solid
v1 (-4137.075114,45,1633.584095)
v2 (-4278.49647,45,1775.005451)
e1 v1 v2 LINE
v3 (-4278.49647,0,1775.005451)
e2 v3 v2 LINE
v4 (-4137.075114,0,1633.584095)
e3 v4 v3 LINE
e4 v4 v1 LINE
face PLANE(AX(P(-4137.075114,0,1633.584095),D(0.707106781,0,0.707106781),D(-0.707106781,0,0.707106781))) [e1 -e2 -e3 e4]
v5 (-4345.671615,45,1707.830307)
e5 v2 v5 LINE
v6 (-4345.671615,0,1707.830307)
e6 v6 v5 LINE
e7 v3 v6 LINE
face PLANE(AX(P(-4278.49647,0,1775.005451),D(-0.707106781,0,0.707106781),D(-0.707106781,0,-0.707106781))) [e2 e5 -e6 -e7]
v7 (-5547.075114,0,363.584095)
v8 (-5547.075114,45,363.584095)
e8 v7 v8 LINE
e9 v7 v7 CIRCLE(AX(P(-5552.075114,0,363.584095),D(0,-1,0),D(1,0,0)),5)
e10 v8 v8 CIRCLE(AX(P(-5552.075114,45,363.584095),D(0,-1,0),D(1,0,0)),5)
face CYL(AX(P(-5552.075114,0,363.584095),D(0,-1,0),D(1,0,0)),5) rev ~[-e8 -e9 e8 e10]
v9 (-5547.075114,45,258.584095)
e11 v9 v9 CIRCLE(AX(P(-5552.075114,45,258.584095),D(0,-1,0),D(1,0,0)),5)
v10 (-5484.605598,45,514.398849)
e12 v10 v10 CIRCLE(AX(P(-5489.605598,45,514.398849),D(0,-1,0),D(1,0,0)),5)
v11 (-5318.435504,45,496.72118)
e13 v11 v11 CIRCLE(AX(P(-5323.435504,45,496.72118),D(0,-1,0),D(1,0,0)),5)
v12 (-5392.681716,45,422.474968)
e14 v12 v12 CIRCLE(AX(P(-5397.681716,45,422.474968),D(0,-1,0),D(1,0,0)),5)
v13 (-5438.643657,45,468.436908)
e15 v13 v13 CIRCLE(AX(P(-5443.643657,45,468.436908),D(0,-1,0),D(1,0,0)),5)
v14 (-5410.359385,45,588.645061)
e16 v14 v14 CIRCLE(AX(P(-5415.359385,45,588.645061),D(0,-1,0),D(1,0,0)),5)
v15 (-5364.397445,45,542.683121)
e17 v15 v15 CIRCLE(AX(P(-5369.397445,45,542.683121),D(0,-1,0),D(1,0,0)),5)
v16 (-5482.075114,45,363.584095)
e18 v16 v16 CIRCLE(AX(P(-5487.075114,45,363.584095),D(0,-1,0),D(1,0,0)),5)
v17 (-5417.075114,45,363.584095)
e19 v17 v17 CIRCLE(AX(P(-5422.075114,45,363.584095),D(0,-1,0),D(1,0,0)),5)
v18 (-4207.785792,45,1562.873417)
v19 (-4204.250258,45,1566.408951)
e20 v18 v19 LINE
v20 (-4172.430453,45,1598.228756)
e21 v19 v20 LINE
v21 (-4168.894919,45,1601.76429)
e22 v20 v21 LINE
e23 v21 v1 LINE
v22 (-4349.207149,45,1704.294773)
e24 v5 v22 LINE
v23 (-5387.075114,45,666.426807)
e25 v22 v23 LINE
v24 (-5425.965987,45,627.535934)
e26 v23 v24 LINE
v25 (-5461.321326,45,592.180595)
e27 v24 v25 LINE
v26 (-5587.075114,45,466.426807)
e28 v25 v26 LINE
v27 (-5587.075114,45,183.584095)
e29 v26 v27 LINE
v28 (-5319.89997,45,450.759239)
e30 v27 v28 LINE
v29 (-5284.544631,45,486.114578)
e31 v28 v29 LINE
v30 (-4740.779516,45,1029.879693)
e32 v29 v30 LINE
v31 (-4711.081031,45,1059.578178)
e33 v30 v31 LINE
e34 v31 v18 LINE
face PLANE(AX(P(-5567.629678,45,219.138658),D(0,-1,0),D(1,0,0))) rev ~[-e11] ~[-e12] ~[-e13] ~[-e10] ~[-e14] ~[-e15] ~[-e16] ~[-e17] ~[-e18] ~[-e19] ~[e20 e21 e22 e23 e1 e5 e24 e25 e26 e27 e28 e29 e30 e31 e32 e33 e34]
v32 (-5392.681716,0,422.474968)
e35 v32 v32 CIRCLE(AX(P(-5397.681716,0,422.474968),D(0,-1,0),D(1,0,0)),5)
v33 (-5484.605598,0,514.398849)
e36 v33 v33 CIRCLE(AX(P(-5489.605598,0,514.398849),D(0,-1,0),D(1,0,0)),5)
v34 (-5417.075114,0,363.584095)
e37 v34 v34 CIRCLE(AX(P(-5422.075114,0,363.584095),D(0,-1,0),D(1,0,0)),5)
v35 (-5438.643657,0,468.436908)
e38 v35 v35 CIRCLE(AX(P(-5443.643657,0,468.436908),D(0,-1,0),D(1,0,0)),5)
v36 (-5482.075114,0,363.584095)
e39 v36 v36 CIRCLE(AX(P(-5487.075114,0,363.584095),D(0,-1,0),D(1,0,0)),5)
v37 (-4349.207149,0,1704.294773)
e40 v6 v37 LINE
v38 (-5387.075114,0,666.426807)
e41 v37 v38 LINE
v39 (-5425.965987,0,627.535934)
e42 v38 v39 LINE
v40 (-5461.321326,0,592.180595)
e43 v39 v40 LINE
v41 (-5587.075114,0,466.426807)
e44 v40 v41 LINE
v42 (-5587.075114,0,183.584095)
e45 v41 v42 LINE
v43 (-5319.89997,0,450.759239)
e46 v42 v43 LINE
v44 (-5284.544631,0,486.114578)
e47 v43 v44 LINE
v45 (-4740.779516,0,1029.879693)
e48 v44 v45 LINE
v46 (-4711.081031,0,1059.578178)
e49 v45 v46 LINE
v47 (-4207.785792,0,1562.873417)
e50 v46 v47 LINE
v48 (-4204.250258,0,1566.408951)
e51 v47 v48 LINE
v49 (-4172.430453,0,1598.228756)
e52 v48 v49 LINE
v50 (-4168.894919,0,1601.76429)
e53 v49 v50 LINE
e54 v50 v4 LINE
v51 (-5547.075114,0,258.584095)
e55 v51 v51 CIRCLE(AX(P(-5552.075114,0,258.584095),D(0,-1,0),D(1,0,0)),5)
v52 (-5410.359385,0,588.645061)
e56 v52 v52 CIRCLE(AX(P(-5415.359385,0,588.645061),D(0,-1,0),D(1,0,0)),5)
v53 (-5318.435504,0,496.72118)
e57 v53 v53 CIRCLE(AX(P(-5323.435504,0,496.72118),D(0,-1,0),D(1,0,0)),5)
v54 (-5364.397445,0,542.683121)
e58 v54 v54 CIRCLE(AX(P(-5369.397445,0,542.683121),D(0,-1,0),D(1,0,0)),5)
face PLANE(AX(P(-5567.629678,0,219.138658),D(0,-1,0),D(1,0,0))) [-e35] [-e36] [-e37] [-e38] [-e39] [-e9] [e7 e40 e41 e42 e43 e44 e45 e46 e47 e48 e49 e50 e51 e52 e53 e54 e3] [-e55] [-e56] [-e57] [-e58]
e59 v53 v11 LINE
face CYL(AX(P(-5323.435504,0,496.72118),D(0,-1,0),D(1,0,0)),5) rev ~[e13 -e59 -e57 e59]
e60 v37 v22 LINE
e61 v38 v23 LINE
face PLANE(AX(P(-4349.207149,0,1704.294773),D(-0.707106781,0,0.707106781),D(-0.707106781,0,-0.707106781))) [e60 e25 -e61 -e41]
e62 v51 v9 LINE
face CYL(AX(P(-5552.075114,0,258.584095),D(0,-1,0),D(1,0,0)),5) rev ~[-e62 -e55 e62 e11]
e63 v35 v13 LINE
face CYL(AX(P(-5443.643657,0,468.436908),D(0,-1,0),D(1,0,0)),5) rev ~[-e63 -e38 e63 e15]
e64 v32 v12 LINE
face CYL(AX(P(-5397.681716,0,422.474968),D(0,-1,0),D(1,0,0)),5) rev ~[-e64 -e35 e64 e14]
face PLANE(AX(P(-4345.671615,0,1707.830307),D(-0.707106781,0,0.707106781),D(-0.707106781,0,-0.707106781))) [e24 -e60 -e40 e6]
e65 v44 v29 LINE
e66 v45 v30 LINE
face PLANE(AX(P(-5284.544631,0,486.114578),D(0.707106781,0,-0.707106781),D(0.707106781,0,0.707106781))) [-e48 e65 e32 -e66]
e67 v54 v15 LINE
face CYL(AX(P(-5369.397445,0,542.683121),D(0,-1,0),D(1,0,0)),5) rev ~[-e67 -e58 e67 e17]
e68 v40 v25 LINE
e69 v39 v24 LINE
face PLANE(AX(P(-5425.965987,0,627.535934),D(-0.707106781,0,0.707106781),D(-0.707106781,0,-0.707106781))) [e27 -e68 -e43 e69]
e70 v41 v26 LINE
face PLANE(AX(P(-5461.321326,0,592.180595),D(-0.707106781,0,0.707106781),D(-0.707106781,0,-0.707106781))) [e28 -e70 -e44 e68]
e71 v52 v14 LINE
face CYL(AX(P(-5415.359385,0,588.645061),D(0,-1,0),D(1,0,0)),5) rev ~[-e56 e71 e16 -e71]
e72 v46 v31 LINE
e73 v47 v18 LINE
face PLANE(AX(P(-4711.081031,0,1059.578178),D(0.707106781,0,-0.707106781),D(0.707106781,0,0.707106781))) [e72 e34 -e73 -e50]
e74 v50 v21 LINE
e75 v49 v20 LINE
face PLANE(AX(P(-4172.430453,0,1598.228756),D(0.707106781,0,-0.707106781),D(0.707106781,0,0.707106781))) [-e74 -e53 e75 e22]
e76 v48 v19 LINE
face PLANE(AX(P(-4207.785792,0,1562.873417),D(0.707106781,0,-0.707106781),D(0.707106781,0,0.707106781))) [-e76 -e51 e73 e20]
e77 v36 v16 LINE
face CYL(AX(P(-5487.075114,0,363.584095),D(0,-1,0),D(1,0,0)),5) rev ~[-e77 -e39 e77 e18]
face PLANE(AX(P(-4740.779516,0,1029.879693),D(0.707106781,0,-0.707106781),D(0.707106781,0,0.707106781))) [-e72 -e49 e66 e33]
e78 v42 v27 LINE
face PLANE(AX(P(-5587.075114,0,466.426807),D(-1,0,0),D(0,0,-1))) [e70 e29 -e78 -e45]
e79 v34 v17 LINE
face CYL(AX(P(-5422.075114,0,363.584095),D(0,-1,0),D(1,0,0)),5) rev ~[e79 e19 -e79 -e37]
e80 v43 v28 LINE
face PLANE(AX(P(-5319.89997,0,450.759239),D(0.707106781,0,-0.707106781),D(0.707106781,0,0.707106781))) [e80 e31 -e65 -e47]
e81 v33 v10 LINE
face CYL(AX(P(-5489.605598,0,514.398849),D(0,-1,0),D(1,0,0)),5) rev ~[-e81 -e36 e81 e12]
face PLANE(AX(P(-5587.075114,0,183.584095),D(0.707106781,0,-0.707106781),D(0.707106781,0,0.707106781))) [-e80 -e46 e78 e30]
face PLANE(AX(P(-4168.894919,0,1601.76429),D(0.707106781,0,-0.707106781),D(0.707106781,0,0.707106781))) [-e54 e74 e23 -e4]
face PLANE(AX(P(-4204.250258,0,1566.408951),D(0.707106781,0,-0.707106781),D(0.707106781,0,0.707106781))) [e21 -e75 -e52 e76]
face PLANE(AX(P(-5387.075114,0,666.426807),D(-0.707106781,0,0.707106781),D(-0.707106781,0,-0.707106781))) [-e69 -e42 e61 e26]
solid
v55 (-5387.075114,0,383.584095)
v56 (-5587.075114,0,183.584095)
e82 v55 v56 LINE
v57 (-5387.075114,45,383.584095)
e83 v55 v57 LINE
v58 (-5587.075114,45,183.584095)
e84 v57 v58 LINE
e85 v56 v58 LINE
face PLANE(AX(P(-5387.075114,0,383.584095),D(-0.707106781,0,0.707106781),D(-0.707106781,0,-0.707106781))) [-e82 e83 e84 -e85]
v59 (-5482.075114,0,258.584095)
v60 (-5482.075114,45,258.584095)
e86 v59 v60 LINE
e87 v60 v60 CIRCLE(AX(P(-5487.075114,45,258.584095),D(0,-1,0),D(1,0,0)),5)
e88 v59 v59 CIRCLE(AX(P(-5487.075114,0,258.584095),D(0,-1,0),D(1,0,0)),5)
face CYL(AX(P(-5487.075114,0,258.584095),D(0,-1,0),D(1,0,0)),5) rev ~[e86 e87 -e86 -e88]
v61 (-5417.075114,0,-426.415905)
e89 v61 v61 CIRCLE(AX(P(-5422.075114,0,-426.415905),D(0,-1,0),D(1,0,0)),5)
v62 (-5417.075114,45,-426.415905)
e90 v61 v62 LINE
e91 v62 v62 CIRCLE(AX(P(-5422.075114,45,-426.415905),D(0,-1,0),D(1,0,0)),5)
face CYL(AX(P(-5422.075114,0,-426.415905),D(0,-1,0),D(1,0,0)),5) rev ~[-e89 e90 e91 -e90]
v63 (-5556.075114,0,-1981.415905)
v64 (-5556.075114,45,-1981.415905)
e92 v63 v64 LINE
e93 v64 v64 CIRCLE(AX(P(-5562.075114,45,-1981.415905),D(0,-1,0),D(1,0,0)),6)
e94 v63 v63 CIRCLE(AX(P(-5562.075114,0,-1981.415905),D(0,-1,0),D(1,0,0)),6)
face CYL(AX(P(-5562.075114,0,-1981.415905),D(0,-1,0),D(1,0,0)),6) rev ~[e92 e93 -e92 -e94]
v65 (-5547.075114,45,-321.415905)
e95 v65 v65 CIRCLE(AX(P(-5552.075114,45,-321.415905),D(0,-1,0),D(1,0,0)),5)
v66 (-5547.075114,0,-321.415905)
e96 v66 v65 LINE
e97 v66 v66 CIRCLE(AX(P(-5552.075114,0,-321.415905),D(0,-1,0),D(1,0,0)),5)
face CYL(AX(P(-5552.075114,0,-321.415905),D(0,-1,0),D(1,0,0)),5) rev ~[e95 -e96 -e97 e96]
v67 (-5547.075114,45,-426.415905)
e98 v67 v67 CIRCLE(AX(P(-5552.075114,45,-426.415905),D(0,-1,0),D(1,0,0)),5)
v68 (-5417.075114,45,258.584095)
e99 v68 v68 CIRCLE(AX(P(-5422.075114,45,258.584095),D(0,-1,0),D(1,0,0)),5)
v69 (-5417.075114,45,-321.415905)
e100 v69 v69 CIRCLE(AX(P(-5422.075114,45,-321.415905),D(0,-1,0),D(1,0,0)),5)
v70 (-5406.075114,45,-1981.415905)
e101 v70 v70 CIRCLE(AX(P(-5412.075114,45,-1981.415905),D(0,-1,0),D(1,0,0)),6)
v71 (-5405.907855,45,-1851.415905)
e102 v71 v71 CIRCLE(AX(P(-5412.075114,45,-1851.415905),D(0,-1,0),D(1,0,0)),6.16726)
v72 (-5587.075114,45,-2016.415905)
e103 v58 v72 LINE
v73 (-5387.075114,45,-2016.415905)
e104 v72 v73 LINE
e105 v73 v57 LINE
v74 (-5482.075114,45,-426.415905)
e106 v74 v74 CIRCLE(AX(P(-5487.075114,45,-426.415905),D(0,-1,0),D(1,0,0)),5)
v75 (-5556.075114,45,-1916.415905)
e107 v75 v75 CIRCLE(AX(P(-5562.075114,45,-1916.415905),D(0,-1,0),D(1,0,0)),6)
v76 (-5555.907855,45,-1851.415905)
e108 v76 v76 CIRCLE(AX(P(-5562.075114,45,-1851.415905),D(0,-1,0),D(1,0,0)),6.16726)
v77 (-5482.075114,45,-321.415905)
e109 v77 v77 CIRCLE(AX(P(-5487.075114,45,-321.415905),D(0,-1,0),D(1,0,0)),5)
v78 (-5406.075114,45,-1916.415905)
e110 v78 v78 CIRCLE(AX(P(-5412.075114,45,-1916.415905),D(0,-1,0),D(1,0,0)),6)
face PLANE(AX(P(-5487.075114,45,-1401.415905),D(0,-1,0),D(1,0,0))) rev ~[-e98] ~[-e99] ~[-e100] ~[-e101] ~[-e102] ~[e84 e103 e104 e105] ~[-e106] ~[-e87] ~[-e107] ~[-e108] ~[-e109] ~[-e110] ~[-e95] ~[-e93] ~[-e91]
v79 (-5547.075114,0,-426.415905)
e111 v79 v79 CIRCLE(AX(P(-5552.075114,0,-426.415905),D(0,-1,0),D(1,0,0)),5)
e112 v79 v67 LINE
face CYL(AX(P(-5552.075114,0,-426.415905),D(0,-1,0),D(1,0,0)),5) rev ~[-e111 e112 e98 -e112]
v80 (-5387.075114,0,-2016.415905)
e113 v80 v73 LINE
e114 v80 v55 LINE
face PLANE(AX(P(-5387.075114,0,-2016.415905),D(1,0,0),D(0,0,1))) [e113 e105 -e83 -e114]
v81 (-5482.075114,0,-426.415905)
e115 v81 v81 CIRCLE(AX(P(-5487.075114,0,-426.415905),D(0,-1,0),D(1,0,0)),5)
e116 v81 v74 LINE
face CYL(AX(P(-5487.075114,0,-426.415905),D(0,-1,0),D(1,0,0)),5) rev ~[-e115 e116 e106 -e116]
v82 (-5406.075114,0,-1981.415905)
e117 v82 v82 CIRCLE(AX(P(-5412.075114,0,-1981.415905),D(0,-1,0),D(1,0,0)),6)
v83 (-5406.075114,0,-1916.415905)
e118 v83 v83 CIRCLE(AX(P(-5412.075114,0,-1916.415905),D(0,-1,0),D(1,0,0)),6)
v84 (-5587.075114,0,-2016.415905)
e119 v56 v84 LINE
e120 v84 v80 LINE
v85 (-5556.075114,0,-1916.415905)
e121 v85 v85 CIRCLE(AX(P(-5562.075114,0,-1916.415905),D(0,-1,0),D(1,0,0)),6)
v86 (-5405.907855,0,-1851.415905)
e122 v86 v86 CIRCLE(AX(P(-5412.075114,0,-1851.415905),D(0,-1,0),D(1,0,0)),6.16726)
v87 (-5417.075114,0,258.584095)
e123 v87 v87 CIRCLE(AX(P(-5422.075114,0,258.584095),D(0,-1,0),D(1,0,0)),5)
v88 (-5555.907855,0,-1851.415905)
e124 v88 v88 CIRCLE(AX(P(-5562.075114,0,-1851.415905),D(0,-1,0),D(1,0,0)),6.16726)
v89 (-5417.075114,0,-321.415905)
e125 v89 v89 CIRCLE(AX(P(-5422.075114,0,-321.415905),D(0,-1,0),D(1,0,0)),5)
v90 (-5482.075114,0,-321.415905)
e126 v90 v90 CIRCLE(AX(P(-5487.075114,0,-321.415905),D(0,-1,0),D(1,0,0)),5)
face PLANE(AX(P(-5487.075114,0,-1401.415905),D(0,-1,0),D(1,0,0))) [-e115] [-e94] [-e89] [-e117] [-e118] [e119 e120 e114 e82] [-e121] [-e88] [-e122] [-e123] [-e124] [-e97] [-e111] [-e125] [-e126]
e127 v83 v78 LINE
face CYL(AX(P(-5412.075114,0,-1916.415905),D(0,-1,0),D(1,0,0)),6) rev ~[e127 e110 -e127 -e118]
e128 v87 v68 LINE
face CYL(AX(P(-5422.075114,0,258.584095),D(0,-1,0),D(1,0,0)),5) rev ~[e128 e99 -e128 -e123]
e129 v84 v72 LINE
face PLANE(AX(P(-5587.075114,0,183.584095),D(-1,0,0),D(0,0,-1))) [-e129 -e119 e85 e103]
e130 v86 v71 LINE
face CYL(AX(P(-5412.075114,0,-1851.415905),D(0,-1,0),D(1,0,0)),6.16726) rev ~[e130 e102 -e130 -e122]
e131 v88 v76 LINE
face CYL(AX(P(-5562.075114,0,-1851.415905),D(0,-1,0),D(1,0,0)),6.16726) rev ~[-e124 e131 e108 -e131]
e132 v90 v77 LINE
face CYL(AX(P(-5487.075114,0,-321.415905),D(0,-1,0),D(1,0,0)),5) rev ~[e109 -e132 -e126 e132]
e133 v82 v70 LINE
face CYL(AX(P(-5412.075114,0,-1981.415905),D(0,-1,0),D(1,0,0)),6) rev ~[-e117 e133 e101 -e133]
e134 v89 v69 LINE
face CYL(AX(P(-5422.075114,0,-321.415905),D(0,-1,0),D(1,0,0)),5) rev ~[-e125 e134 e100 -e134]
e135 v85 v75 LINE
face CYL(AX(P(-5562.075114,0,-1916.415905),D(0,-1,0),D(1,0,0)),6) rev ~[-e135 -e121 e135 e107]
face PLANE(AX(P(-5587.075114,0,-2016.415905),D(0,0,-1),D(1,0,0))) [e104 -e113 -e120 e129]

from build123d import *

# Parameters (mm, degrees)
F0_W     = 200
F0_H     = 540
F0_H_2   = 45
F0_H_3   = 5
F0_W_2   = 45
F0_H_4   = 200
F0_W_3   = 42.8196878433
F0_R     = 6
F0_R_2   = 6.1672595584
F0_W_4   = 8
F0_W_5   = 42
F0_W_6   = 5
F0_H_5   = 42
F0_H_6   = 8
F0_R_3   = 5
F1_DEPTH = 45
F2_DEPTH = 45


with BuildPart() as f1:
    # F0 (on Front) → F1 (new body)
    with BuildSketch(Plane.XZ):
        with Locations((-5487.0751142502, -1401.4159052541)):
            Rectangle(F0_W, F0_H)
        with Locations((-5487.0751142502, -1693.9159052541)):
            Rectangle(F0_W, F0_H_2)
        with Locations((-5487.0751142502, -1718.9159052541)):
            Rectangle(F0_W, F0_H_3)
        with Locations((-5487.0751142502, -1743.9159052541)):
            Rectangle(F0_W, F0_H_2)
        with Locations((-5487.0751142502, -1768.9159052541)):
            Rectangle(F0_W, F0_H_3)
        Polygon((-5392.0751142502, -1816.4159052541), (-5387.0751142502, -1816.4159052541), (-5387.0751142502, -1771.4159052541), (-5587.0751142502, -1771.4159052541), (-5587.0751142502, -1816.4159052541), (-5582.8948020935, -1816.4159052541), (-5540.0751142502, -1816.4159052541), (-5532.0751142502, -1816.4159052541), (-5487.0751142502, -1816.4159052541), (-5442.0751142502, -1816.4159052541), (-5434.0751142502, -1816.4159052541), align=None)
        with Locations((-5509.5751142502, -1916.4159052541)):
            Rectangle(F0_W_2, F0_H_4)
        with Locations((-5561.4849581718, -1916.4159052541)):
            Rectangle(F0_W_3, F0_H_4)
        with Locations((-5562.0751142502, -1981.4159052541)):
            Circle(F0_R, mode=Mode.SUBTRACT)
        with Locations((-5562.0751142502, -1916.4159052541)):
            Circle(F0_R, mode=Mode.SUBTRACT)
        with Locations((-5562.0751142502, -1851.4159052541)):
            Circle(F0_R_2, mode=Mode.SUBTRACT)
        with Locations((-5536.0751142502, -1916.4159052541)):
            Rectangle(F0_W_4, F0_H_4)
        Polygon((-5582.8948020935, -1816.4159052541), (-5587.0751142502, -1816.4159052541), (-5587.0751142502, -1971.4159052541), (-5587.0751142502, -2016.4159052541), (-5582.8948020935, -2016.4159052541), align=None)
        with Locations((-5464.5751142502, -1916.4159052541)):
            Rectangle(F0_W_2, F0_H_4)
        with Locations((-5438.0751142502, -1916.4159052541)):
            Rectangle(F0_W_4, F0_H_4)
        with Locations((-5413.0751142502, -1916.4159052541)):
            Rectangle(F0_W_5, F0_H_4)
        with Locations((-5412.0751142502, -1981.4159052541)):
            Circle(F0_R, mode=Mode.SUBTRACT)
        with Locations((-5412.0751142502, -1916.4159052541)):
            Circle(F0_R, mode=Mode.SUBTRACT)
        with Locations((-5412.0751142502, -1851.4159052541)):
            Circle(F0_R_2, mode=Mode.SUBTRACT)
        with Locations((-5389.5751142502, -1916.4159052541)):
            Rectangle(F0_W_6, F0_H_4)
        with Locations((-5487.0751142502, -1110.4159052541)):
            Rectangle(F0_W, F0_H_5)
        with Locations((-5487.0751142502, -1085.4159052541)):
            Rectangle(F0_W, F0_H_6)
        with Locations((-5487.0751142502, -1058.9159052541)):
            Rectangle(F0_W, F0_H_2)
        with Locations((-5487.0751142502, -1032.4159052541)):
            Rectangle(F0_W, F0_H_6)
        with Locations((-5487.0751142502, -1007.4159052541)):
            Rectangle(F0_W, F0_H_5)
        with Locations((-5487.0751142502, -716.4159052541)):
            Rectangle(F0_W, F0_H)
        with Locations((-5487.0751142502, -423.9159052541)):
            Rectangle(F0_W, F0_H_2)
        with Locations((-5552.0751142502, -426.4159052541)):
            Circle(F0_R_3, mode=Mode.SUBTRACT)
        with Locations((-5487.0751142502, -426.4159052541)):
            Circle(F0_R_3, mode=Mode.SUBTRACT)
        with Locations((-5422.0751142502, -426.4159052541)):
            Circle(F0_R_3, mode=Mode.SUBTRACT)
        with Locations((-5487.0751142502, -398.9159052541)):
            Rectangle(F0_W, F0_H_3)
        with Locations((-5487.0751142502, -373.9159052541)):
            Rectangle(F0_W, F0_H_2)
        with Locations((-5487.0751142502, -348.9159052541)):
            Rectangle(F0_W, F0_H_3)
        with Locations((-5487.0751142502, -323.9159052541)):
            Rectangle(F0_W, F0_H_2)
        with Locations((-5552.0751142502, -321.4159052541)):
            Circle(F0_R_3, mode=Mode.SUBTRACT)
        with Locations((-5487.0751142502, -321.4159052541)):
            Circle(F0_R_3, mode=Mode.SUBTRACT)
        with Locations((-5422.0751142502, -321.4159052541)):
            Circle(F0_R_3, mode=Mode.SUBTRACT)
        Polygon((-5387.0751142502, -301.4159052541), (-5387.0751142502, 238.5840947459), (-5397.0751142502, 238.5840947459), (-5532.0751142502, 238.5840947459), (-5587.0751142502, 183.5840947459), (-5587.0751142502, -301.4159052541), align=None)
        Polygon((-5387.0751142502, 288.5840947459), (-5387.0751142502, 333.5840947459), (-5397.0751142502, 333.5840947459), (-5437.0751142502, 333.5840947459), (-5482.0751142502, 288.5840947459), (-5397.0751142502, 288.5840947459), align=None)
        Polygon((-5532.0751142502, 238.5840947459), (-5397.0751142502, 238.5840947459), (-5397.0751142502, 283.5840947459), (-5487.0751142502, 283.5840947459), align=None)
        with Locations((-5487.0751142502, 258.5840947459)):
            Circle(F0_R_3, mode=Mode.SUBTRACT)
        with Locations((-5422.0751142502, 258.5840947459)):
            Circle(F0_R_3, mode=Mode.SUBTRACT)
        Polygon((-5387.0751142502, 238.5840947459), (-5387.0751142502, 288.5840947459), (-5397.0751142502, 288.5840947459), (-5397.0751142502, 283.5840947459), (-5397.0751142502, 238.5840947459), align=None)
        Polygon((-5397.0751142502, 283.5840947459), (-5397.0751142502, 288.5840947459), (-5482.0751142502, 288.5840947459), (-5487.0751142502, 283.5840947459), align=None)
        Polygon((-5397.0751142502, 338.5840947459), (-5397.0751142502, 373.5840947459), (-5432.0751142502, 338.5840947459), align=None)
        Polygon((-5437.0751142502, 333.5840947459), (-5397.0751142502, 333.5840947459), (-5397.0751142502, 338.5840947459), (-5432.0751142502, 338.5840947459), align=None)
        Polygon((-5387.0751142502, 333.5840947459), (-5387.0751142502, 383.5840947459), (-5397.0751142502, 373.5840947459), (-5397.0751142502, 338.5840947459), (-5397.0751142502, 333.5840947459), align=None)
    extrude(amount=-F1_DEPTH)


with BuildPart() as f2:
    # F0 (on Front) → F2 (new body)
    with BuildSketch(Plane.XZ):
        Polygon((-5587.0751142502, 183.5840947459), (-5532.0751142502, 238.5840947459), (-5577.0751142502, 238.5840947459), (-5587.0751142502, 238.5840947459), align=None)
        Polygon((-5577.0751142502, 238.5840947459), (-5532.0751142502, 238.5840947459), (-5487.0751142502, 283.5840947459), (-5577.0751142502, 283.5840947459), align=None)
        with Locations((-5552.0751142502, 258.5840947459)):
            Circle(F0_R_3, mode=Mode.SUBTRACT)
        Polygon((-5577.0751142502, 283.5840947459), (-5577.0751142502, 288.5840947459), (-5587.0751142502, 288.5840947459), (-5587.0751142502, 238.5840947459), (-5577.0751142502, 238.5840947459), align=None)
        Polygon((-5487.0751142502, 283.5840947459), (-5482.0751142502, 288.5840947459), (-5577.0751142502, 288.5840947459), (-5577.0751142502, 283.5840947459), align=None)
        Polygon((-5482.0751142502, 288.5840947459), (-5437.0751142502, 333.5840947459), (-5577.0751142502, 333.5840947459), (-5587.0751142502, 333.5840947459), (-5587.0751142502, 288.5840947459), (-5577.0751142502, 288.5840947459), align=None)
        Polygon((-5437.0751142502, 333.5840947459), (-5432.0751142502, 338.5840947459), (-5577.0751142502, 338.5840947459), (-5577.0751142502, 333.5840947459), align=None)
        Polygon((-5432.0751142502, 338.5840947459), (-5397.0751142502, 373.5840947459), (-5397.0751142502, 383.5840947459), (-5577.0751142502, 383.5840947459), (-5577.0751142502, 338.5840947459), align=None)
        with Locations((-5552.0751142502, 363.5840947459)):
            Circle(F0_R_3, mode=Mode.SUBTRACT)
        with Locations((-5487.0751142502, 363.5840947459)):
            Circle(F0_R_3, mode=Mode.SUBTRACT)
        with Locations((-5422.0751142502, 363.5840947459)):
            Circle(F0_R_3, mode=Mode.SUBTRACT)
        Polygon((-5577.0751142502, 338.5840947459), (-5577.0751142502, 383.5840947459), (-5587.0751142502, 383.5840947459), (-5587.0751142502, 333.5840947459), (-5577.0751142502, 333.5840947459), align=None)
        Polygon((-5397.0751142502, 383.5840947459), (-5387.0751142502, 383.5840947459), (-5394.146182062, 390.6551625577), (-5521.4254026756, 517.9343831713), (-5528.4964704875, 525.0054509832), (-5587.0751142502, 466.4268072205), (-5587.0751142502, 383.5840947459), (-5577.0751142502, 383.5840947459), align=None)
        Polygon((-5394.1461820621, 390.6551625577), (-5387.0751142502, 397.7262303696), (-5387.0751142502, 447.2237050527), (-5489.6055975222, 549.7541883247), (-5521.4254026756, 517.9343831713), align=None)
        with Locations((-5397.681715968, 422.4749677111)):
            Circle(F0_R_3, mode=Mode.SUBTRACT)
        with Locations((-5443.6436567451, 468.4369084883)):
            Circle(F0_R_3, mode=Mode.SUBTRACT)
        with Locations((-5489.6055975222, 514.3988492654)):
            Circle(F0_R_3, mode=Mode.SUBTRACT)
        Polygon((-5387.0751142502, 447.2237050527), (-5387.0751142502, 397.7262303696), (-5362.3263769087, 422.4749677111), align=None)
        Polygon((-5387.0751142502, 397.7262303696), (-5387.0751142502, 383.5840947459), (-5351.7197751909, 418.9394338052), (-5358.7908430027, 426.0105016171), (-5362.3263769087, 422.4749677111), align=None)
        Polygon((-5394.146182062, 390.6551625577), (-5387.0751142502, 383.5840947459), (-5387.0751142502, 397.7262303696), align=None)
        Polygon((-5397.0751142502, 373.5840947459), (-5387.0751142502, 383.5840947459), (-5397.0751142502, 383.5840947459), align=None)
        Polygon((-5528.4964704875, 525.0054509832), (-5521.4254026756, 517.9343831713), (-5489.6055975222, 549.7541883247), (-5486.0700636163, 553.2897222306), (-5493.1411314282, 560.3607900425), align=None)
        Polygon((-5489.6055975222, 549.7541883247), (-5387.0751142502, 447.2237050527), (-5387.0751142502, 454.2947728645), (-5486.0700636163, 553.2897222306), align=None)
        Polygon((-5486.0700636163, 553.2897222306), (-5387.0751142502, 454.2947728645), (-5387.0751142502, 517.9343831713), (-5454.2502584629, 585.109527384), (-5461.3213262748, 592.1805951959), (-5493.1411314282, 560.3607900425), align=None)
        Polygon((-5358.7908430027, 426.0105016171), (-5351.7197751909, 418.9394338052), (-5319.8999700375, 450.7592389586), (-5326.9710378493, 457.8303067705), (-5387.0751142502, 517.9343831713), (-5387.0751142502, 454.2947728645), align=None)
        Polygon((-5362.3263769087, 422.4749677111), (-5358.7908430027, 426.0105016171), (-5387.0751142502, 454.2947728645), (-5387.0751142502, 447.2237050527), align=None)
        Polygon((-5387.0751142502, 517.9343831713), (-5326.9710378493, 457.8303067705), (-5323.4355039434, 461.3658406764), (-5387.0751142502, 525.0054509832), align=None)
        Polygon((-5326.9710378493, 457.8303067705), (-5319.8999700375, 450.7592389586), (-5284.5446309781, 486.1145780179), (-5291.61569879, 493.1856458298), (-5323.4355039434, 461.3658406764), align=None)
        Polygon((-5323.4355039434, 461.3658406764), (-5291.61569879, 493.1856458298), (-5387.0751142502, 588.64506129), (-5387.0751142502, 525.0054509832), align=None)
        with Locations((-5323.4355039434, 496.7211797357)):
            Circle(F0_R_3, mode=Mode.SUBTRACT)
        with Locations((-5369.3974447205, 542.6831205128)):
            Circle(F0_R_3, mode=Mode.SUBTRACT)
        Polygon((-5387.0751142502, 525.0054509832), (-5387.0751142502, 588.64506129), (-5418.8949194036, 620.4648664434), (-5450.714724557, 588.64506129), align=None)
        with Locations((-5415.3593854976, 588.64506129)):
            Circle(F0_R_3, mode=Mode.SUBTRACT)
        Polygon((-5454.2502584629, 585.109527384), (-5387.0751142502, 517.9343831713), (-5387.0751142502, 525.0054509832), (-5450.714724557, 588.64506129), align=None)
        Polygon((-5461.3213262748, 592.1805951959), (-5454.2502584629, 585.109527384), (-5450.714724557, 588.64506129), (-5418.8949194036, 620.4648664434), (-5425.9659872154, 627.5359342552), align=None)
        Polygon((-5418.8949194036, 620.4648664434), (-5387.0751142502, 588.64506129), (-5387.0751142502, 666.4268072205), (-5425.9659872154, 627.5359342552), align=None)
        Polygon((-5291.61569879, 493.1856458298), (-5284.5446309781, 486.1145780179), (-4813.6115147079, 957.0476942882), (-4955.0328709452, 1098.4690505255), (-5387.0751142502, 666.4268072205), (-5387.0751142502, 588.64506129), align=None)
        Polygon((-4955.0328709452, 1098.4690505255), (-4813.6115147079, 957.0476942882), (-4783.9130298981, 986.746179098), (-4925.3343861354, 1128.1675353353), align=None)
        Polygon((-4925.3343861354, 1128.1675353353), (-4783.9130298981, 986.746179098), (-4778.2561756486, 992.4030333475), (-4919.6775318859, 1133.8243895848), align=None)
        Polygon((-4919.6775318859, 1133.8243895848), (-4778.2561756486, 992.4030333475), (-4746.4363704952, 1024.2228385009), (-4887.8577267325, 1165.6441947382), align=None)
        Polygon((-4887.8577267325, 1165.6441947382), (-4746.4363704952, 1024.2228385009), (-4740.7795162457, 1029.8796927504), (-4882.200872483, 1171.3010489877), align=None)
        Polygon((-4740.7795162457, 1029.8796927504), (-4711.0810314358, 1059.5781775602), (-4852.5023876732, 1200.9995337975), (-4882.200872483, 1171.3010489877), align=None)
        Polygon((-4711.0810314358, 1059.5781775602), (-4239.6055975222, 1531.0536114738), (-4381.0269537595, 1672.4749677111), (-4852.5023876732, 1200.9995337975), align=None)
        Polygon((-4239.6055975222, 1531.0536114738), (-4207.7857923688, 1562.8734166272), (-4349.2071486061, 1704.2947728645), (-4381.0269537595, 1672.4749677111), align=None)
        Polygon((-4207.7857923688, 1562.8734166272), (-4204.2502584629, 1566.4089505332), (-4345.6716147002, 1707.8303067705), (-4349.2071486061, 1704.2947728645), align=None)
        Polygon((-4204.2502584629, 1566.4089505332), (-4172.4304533095, 1598.2287556865), (-4313.8518095468, 1739.6501119239), (-4345.6716147002, 1707.8303067705), align=None)
        Polygon((-4172.4304533095, 1598.2287556865), (-4168.8949194036, 1601.7642895925), (-4310.3162756409, 1743.1856458298), (-4313.8518095468, 1739.6501119239), align=None)
        Polygon((-4168.8949194036, 1601.7642895925), (-4137.0751142502, 1633.5840947459), (-4278.4964704875, 1775.0054509832), (-4310.3162756409, 1743.1856458298), align=None)
    extrude(amount=-F2_DEPTH)


solid = Compound([f1.part, f2.part])
